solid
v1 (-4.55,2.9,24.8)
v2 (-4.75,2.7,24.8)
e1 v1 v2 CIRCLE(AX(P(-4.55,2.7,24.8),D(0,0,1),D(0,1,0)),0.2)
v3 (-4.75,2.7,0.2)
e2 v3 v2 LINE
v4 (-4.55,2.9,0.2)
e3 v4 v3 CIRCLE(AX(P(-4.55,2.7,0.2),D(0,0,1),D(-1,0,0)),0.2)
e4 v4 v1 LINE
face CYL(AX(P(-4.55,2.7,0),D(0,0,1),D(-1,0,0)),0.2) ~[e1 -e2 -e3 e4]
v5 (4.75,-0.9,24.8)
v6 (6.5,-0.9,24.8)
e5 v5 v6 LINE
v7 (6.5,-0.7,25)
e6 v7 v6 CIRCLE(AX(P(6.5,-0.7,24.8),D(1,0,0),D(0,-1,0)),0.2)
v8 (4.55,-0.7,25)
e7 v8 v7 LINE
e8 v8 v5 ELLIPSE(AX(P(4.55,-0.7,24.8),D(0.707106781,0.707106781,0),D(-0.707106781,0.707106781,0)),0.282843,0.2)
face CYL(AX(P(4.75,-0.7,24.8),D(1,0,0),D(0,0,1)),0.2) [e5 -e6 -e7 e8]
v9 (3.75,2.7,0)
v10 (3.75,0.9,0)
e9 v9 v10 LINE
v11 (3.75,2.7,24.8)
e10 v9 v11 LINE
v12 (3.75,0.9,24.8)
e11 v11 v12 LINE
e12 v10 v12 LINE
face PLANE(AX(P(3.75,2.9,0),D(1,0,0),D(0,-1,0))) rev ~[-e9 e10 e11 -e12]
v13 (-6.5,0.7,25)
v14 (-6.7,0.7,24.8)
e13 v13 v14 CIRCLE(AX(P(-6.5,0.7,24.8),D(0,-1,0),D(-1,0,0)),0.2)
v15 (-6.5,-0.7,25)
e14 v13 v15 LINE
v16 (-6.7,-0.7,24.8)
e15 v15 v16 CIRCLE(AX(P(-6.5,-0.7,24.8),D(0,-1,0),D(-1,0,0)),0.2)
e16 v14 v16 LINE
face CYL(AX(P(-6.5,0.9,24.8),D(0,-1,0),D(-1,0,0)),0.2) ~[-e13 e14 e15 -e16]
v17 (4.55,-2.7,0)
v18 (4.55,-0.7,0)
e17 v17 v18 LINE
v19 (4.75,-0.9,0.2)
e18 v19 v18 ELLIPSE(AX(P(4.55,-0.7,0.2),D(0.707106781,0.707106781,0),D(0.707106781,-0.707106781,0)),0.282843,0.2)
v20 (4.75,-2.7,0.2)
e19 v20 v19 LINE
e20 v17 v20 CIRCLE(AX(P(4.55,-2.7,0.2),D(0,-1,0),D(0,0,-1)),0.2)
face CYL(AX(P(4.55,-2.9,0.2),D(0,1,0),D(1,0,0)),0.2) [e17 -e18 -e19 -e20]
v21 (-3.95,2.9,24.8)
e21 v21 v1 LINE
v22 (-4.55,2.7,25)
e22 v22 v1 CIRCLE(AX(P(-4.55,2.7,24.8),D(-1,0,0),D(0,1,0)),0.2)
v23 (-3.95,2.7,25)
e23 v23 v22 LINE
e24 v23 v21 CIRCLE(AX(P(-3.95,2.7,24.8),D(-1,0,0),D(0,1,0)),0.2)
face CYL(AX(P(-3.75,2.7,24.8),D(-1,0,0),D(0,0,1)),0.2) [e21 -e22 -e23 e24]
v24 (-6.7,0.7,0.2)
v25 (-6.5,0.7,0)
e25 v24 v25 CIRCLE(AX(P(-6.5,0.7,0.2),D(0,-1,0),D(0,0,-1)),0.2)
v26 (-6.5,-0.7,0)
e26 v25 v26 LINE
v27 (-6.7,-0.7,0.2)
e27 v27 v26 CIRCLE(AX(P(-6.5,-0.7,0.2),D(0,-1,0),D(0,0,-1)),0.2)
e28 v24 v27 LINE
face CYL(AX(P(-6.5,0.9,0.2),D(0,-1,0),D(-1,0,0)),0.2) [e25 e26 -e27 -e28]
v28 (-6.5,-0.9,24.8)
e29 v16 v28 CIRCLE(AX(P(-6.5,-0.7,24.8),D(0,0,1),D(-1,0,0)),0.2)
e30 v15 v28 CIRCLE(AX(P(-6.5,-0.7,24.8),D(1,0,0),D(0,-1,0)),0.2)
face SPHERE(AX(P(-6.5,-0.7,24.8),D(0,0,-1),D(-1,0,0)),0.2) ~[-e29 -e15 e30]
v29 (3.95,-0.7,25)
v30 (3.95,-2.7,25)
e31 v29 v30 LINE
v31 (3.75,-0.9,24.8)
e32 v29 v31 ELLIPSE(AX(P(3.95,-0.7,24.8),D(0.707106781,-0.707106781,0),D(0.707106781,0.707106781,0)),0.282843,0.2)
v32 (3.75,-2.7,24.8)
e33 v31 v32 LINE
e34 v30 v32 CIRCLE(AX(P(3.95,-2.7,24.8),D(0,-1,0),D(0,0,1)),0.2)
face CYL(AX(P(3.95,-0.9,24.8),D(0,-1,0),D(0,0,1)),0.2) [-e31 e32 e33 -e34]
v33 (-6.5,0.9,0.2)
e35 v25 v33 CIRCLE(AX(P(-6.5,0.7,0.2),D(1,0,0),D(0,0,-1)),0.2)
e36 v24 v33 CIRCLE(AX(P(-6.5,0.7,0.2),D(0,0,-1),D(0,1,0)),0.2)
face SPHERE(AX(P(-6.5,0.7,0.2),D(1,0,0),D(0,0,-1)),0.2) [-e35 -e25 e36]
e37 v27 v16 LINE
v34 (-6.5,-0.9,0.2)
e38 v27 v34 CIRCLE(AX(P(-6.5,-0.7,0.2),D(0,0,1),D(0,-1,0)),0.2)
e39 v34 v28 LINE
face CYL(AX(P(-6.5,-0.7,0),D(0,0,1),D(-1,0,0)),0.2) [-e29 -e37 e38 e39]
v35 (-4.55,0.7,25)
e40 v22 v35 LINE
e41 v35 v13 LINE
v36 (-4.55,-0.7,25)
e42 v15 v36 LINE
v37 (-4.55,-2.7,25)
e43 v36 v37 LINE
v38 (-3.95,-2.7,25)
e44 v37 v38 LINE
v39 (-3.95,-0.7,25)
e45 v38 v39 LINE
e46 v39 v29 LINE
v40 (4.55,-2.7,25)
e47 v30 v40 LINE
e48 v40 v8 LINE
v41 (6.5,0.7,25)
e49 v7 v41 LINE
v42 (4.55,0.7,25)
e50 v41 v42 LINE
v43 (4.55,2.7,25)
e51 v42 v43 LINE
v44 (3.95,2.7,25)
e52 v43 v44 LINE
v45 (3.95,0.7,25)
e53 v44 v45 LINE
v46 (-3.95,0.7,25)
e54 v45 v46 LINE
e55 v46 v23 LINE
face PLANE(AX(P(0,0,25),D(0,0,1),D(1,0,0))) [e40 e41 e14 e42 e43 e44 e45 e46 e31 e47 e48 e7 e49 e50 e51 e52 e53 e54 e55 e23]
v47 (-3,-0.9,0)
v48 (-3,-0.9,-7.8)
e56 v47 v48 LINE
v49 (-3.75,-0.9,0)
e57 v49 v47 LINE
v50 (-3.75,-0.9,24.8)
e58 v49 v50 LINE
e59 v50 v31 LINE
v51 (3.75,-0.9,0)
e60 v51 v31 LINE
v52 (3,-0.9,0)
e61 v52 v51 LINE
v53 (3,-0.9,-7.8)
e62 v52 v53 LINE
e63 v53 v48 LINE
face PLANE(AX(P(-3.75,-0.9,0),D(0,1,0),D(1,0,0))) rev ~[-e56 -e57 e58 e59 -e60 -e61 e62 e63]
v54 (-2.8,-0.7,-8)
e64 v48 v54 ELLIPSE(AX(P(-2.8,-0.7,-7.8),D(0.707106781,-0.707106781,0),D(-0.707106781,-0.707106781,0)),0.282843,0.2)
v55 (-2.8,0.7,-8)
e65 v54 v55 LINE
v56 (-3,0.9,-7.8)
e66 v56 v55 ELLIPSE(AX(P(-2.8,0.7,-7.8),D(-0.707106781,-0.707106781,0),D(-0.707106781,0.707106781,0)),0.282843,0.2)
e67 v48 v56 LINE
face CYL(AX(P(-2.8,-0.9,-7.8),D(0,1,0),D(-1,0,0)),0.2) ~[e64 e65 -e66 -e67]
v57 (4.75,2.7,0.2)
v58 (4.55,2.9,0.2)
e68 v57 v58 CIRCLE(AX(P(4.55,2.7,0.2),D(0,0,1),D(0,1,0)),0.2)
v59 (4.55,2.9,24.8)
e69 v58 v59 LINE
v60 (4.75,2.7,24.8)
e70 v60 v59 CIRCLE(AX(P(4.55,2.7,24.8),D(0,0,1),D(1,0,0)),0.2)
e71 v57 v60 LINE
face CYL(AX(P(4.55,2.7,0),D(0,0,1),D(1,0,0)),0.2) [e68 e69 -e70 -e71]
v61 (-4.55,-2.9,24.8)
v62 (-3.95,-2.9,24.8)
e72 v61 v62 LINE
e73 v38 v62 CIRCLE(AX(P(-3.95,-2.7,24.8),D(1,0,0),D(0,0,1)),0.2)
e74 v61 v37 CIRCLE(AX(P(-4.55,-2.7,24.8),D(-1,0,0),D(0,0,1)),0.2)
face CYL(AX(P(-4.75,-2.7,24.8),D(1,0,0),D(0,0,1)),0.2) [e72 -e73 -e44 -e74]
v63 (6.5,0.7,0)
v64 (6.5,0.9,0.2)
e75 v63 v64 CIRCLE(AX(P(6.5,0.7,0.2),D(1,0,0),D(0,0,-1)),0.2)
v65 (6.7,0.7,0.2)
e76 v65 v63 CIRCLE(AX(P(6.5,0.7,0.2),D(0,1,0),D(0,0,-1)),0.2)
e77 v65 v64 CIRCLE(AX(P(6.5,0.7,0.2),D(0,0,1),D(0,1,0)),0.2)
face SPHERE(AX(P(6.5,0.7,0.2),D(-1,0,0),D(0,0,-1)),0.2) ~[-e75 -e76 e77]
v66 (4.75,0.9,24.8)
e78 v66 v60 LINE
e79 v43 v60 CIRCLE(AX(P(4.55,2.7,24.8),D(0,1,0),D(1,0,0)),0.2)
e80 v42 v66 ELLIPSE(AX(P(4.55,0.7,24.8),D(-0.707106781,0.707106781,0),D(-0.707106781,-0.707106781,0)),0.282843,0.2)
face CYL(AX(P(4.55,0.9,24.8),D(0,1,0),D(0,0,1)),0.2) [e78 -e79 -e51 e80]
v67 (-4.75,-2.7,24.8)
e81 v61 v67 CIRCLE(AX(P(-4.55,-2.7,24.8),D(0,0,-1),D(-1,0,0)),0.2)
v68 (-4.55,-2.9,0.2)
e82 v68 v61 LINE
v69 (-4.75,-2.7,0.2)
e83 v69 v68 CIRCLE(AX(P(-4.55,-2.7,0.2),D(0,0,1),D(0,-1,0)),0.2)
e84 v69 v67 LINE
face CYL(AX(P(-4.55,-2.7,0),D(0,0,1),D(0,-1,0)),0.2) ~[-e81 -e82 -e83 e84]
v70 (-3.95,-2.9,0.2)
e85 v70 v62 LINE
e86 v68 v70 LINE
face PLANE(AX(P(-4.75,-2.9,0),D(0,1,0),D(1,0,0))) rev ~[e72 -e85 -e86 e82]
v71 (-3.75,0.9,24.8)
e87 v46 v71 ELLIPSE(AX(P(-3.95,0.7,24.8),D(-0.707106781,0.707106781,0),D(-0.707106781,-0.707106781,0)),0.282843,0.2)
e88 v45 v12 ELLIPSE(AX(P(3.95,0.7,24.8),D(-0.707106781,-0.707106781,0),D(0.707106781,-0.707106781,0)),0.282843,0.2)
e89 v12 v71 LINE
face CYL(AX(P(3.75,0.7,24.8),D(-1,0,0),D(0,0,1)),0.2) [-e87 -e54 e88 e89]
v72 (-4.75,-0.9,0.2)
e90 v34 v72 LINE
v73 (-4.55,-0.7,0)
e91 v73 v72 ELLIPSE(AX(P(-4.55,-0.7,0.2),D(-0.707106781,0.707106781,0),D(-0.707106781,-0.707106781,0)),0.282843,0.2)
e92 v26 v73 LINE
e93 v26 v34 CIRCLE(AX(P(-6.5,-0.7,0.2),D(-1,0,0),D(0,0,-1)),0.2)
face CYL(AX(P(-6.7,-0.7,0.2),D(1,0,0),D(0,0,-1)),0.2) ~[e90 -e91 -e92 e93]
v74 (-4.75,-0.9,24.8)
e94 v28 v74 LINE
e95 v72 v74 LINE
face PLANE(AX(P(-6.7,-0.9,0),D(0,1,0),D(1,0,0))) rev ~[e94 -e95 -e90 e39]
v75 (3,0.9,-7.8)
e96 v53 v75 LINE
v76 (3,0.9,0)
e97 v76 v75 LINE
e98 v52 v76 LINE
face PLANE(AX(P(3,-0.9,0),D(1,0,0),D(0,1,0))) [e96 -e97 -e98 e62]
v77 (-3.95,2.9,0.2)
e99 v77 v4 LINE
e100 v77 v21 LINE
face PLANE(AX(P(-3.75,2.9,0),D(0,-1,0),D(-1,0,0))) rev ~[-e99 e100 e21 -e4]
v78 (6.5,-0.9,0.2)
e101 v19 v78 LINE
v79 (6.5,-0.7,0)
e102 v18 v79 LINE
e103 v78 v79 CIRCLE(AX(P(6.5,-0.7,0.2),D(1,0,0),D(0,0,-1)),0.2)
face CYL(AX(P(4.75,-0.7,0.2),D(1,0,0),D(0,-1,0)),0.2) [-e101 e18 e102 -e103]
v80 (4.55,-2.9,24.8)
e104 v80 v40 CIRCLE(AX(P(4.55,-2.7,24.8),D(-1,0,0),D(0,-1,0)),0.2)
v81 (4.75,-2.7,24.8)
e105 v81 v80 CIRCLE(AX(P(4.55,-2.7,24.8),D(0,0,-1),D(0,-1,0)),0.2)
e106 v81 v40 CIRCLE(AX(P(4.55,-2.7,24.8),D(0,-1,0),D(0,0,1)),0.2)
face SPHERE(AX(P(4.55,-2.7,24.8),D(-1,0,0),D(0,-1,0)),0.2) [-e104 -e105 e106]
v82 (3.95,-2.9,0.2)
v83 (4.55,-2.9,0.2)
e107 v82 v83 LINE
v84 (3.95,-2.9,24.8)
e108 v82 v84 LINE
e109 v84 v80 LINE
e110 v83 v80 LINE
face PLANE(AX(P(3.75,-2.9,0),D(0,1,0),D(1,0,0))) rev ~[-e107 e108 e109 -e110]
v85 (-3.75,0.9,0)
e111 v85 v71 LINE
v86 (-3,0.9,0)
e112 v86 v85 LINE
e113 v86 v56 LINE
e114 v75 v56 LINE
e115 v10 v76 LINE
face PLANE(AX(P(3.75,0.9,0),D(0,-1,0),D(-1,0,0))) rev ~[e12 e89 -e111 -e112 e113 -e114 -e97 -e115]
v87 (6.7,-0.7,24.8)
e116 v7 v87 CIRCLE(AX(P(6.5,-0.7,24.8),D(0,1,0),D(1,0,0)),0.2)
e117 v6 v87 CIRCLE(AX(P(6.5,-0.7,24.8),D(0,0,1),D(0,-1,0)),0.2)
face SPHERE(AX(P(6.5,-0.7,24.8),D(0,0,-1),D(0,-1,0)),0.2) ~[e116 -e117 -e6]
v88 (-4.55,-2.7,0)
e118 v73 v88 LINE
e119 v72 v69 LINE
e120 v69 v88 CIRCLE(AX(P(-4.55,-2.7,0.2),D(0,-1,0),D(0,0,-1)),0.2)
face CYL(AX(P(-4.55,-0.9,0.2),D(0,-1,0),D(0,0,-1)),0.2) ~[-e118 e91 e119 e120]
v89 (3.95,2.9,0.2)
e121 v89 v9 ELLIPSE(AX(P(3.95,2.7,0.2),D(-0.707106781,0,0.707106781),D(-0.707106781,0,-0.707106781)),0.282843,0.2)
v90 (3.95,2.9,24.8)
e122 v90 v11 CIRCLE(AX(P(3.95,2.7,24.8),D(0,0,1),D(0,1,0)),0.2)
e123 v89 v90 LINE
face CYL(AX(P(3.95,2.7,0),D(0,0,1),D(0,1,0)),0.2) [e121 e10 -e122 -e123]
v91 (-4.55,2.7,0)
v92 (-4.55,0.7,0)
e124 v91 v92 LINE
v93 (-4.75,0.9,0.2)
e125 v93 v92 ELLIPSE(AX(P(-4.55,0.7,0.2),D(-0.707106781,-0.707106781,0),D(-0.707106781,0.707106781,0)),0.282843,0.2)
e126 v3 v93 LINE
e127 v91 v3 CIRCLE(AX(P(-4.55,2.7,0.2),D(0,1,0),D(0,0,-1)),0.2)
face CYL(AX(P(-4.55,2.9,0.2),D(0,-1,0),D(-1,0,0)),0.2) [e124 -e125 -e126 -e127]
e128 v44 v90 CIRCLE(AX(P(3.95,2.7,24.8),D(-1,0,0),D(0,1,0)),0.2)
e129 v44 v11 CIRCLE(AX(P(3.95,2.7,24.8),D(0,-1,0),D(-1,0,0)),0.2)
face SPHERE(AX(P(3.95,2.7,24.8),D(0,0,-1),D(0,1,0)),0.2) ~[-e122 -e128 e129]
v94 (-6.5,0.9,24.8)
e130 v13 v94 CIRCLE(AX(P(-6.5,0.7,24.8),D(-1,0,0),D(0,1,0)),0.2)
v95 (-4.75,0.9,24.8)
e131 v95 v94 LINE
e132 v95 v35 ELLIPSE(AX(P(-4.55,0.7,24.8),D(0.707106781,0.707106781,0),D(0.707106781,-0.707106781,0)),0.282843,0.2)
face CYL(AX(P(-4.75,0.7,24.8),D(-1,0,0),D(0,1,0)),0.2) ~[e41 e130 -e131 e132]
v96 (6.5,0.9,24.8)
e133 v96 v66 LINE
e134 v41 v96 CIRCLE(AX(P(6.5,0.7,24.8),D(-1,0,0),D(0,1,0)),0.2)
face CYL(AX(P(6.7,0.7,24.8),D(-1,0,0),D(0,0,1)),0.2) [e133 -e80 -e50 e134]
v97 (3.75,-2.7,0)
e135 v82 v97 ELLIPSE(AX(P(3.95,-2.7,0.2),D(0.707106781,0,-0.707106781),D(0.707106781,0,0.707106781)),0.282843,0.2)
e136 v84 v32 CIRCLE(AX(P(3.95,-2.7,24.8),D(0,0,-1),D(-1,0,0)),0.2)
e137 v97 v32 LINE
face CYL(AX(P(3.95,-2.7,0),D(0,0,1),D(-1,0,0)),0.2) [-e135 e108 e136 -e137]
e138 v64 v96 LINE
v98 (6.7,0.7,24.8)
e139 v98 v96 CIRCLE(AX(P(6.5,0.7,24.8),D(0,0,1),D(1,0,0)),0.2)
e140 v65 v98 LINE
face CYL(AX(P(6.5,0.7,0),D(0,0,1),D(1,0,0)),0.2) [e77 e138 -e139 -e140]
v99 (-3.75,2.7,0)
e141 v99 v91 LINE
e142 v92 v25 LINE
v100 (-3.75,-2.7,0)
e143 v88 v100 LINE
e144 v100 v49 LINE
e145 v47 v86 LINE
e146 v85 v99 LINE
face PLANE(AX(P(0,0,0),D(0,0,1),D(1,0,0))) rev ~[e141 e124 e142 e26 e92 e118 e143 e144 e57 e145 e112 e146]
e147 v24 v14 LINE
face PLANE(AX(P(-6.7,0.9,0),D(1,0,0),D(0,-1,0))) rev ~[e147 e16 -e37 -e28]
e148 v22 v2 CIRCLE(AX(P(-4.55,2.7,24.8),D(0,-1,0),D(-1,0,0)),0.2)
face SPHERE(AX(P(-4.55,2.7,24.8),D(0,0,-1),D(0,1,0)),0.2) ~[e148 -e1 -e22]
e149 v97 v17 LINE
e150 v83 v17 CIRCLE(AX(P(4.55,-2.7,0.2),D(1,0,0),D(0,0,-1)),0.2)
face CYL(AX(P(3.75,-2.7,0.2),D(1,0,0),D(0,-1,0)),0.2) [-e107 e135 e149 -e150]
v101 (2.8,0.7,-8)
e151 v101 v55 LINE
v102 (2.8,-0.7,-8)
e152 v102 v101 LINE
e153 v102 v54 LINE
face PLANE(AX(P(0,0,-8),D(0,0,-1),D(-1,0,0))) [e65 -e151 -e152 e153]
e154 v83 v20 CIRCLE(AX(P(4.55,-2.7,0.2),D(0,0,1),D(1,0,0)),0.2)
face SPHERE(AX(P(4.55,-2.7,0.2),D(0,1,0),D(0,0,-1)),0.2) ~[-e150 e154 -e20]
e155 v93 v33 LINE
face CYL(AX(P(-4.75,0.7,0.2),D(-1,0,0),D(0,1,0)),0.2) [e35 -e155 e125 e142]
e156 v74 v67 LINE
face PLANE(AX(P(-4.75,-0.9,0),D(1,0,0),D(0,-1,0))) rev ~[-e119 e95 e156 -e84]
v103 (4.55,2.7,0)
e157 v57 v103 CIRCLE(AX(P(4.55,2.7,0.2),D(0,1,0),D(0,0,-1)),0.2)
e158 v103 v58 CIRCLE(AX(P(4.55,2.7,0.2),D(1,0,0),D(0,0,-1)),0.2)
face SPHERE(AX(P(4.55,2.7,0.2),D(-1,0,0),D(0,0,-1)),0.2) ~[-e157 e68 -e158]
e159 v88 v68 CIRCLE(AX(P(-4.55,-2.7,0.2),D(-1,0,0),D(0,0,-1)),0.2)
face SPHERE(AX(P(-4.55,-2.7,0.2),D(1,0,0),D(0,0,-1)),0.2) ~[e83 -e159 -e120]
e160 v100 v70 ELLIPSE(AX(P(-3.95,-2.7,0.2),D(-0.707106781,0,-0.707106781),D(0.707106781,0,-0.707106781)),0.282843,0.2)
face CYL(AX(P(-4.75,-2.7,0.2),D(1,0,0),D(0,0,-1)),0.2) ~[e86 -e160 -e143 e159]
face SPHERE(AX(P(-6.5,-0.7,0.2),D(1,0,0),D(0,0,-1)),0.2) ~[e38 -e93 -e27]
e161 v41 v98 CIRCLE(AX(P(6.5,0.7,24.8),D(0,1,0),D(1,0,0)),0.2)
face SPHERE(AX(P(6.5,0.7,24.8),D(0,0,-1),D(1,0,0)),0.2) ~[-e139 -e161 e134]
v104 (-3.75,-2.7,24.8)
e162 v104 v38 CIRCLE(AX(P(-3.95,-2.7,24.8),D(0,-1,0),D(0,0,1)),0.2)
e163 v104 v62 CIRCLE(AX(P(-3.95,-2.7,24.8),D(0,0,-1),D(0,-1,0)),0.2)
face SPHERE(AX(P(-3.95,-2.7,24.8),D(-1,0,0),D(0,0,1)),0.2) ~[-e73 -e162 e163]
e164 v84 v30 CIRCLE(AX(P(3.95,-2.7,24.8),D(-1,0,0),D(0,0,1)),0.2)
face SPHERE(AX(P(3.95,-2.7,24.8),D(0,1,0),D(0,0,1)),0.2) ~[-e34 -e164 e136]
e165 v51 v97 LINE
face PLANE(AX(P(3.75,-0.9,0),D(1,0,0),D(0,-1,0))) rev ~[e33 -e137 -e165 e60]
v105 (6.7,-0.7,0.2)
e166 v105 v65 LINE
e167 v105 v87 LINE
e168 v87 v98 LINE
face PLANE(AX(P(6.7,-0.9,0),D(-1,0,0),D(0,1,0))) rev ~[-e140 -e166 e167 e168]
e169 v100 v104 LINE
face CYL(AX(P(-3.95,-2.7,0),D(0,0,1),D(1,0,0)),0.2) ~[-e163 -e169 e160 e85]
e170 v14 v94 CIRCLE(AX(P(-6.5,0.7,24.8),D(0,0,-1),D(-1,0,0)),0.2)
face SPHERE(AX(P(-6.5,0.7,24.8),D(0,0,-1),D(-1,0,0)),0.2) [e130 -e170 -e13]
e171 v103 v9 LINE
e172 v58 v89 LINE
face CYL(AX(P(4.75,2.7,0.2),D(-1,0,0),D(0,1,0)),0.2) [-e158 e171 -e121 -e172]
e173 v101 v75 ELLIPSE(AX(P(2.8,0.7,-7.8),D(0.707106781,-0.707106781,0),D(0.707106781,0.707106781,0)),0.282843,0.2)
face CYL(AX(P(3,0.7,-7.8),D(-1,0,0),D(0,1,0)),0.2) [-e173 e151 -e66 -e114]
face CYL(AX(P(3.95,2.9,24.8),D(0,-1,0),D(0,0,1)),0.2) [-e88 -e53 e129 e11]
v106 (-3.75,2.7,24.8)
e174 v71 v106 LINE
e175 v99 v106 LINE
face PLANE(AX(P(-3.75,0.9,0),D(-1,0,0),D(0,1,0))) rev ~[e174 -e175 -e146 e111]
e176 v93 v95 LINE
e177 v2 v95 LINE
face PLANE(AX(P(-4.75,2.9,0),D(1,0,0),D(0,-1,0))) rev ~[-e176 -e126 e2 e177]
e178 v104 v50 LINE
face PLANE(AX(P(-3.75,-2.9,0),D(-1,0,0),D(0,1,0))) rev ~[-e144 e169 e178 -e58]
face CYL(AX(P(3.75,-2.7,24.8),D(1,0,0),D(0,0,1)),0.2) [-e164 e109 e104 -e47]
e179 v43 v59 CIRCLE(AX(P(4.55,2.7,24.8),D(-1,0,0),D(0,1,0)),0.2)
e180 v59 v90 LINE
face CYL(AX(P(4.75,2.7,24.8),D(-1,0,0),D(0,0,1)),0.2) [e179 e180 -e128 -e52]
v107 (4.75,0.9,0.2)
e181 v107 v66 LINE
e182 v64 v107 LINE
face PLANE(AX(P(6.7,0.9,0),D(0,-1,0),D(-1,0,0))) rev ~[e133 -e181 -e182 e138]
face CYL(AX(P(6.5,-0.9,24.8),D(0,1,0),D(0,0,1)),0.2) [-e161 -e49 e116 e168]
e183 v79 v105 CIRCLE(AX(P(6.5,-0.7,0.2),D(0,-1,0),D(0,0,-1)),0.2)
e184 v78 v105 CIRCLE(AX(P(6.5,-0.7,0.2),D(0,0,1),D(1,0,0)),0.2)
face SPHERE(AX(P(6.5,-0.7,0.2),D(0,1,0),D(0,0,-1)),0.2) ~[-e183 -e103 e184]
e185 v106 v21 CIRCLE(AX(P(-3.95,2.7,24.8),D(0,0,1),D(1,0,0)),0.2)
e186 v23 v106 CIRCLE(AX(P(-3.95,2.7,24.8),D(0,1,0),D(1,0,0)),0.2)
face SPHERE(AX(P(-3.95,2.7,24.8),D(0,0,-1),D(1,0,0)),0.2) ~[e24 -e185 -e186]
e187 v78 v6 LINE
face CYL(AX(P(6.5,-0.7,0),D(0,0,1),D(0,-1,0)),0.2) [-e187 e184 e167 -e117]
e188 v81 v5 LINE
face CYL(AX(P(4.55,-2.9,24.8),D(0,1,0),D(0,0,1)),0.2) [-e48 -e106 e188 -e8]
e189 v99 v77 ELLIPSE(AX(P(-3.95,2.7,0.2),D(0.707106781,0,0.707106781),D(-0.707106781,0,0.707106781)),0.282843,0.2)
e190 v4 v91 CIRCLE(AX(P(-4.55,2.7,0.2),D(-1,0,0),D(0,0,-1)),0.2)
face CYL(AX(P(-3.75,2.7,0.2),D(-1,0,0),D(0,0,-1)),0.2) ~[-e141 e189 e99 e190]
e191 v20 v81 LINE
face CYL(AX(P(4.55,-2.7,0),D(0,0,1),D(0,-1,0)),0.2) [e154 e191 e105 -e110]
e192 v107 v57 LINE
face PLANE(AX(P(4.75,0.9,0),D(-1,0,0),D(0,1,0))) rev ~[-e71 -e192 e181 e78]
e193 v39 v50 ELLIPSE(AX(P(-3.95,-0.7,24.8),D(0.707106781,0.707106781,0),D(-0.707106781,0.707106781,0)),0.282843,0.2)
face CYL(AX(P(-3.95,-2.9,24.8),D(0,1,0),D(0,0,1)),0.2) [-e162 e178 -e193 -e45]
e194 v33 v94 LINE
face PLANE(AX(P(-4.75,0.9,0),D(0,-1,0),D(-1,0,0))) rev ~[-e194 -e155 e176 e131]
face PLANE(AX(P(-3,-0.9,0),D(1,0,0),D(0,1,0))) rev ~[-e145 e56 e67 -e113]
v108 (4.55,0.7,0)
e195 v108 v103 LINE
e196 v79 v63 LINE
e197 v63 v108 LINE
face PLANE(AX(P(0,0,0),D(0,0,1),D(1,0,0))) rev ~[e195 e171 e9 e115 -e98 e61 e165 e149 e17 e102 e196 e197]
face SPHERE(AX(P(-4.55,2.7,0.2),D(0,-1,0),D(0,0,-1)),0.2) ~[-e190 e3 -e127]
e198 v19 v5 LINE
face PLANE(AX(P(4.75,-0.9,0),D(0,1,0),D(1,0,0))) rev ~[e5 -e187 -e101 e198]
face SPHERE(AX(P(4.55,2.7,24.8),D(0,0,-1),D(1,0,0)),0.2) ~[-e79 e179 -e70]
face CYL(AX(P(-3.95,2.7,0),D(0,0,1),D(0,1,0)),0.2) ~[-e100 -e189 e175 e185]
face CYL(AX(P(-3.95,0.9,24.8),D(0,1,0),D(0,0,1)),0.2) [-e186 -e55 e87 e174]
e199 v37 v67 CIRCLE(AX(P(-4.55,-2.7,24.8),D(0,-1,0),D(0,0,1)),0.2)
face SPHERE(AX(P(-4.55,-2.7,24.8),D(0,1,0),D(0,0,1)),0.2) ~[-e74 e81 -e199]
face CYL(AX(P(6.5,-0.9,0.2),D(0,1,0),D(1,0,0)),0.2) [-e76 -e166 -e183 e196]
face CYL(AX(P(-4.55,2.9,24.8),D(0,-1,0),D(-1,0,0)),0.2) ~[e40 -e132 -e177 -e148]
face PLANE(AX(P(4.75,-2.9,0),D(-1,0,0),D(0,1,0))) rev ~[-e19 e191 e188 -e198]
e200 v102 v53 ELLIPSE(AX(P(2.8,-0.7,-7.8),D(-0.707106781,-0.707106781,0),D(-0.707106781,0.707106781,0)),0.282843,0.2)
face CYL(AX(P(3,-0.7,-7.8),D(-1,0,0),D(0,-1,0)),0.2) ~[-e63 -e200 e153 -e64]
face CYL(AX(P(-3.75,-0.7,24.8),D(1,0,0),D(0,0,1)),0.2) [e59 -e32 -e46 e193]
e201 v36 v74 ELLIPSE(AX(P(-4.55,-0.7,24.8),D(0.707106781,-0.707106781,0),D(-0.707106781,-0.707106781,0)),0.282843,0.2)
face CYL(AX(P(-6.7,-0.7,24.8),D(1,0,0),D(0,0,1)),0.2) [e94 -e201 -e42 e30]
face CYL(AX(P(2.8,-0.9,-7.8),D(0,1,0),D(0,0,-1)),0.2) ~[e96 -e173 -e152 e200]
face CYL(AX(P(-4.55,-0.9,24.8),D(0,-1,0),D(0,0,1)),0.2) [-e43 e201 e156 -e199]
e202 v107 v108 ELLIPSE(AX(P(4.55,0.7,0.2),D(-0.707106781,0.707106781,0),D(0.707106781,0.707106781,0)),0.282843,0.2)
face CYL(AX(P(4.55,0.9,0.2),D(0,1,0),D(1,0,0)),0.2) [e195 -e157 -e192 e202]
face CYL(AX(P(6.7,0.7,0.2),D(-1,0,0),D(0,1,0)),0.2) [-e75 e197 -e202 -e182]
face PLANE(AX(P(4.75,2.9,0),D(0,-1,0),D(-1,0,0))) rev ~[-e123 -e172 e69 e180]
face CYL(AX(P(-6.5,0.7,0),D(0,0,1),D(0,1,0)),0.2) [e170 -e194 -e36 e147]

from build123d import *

# Parameters (mm, degrees)
AUFSATZ_LINEAR_AUSTRAGEN1_DEPTH = 25
SKIZZE2_W                       = 6
SKIZZE2_H                       = 1.8
AUFSATZ_LINEAR_AUSTRAGEN2_DEPTH = 8
VERRUNDUNG1_R                   = 0.2


with BuildPart() as part:
    # Skizze1 → Aufsatz-Linear austragen1 (new body)
    with BuildSketch(Plane.XY):
        Polygon((-4.75, 0.9), (-6.7, 0.9), (-6.7, -0.9), (-4.75, -0.9), (-4.75, -2.9), (-3.75, -2.9), (-3.75, -0.9), (3.75, -0.9), (3.75, -2.9), (4.75, -2.9), (4.75, -0.9), (6.7, -0.9), (6.7, 0.9), (4.75, 0.9), (4.75, 2.9), (3.75, 2.9), (3.75, 0.9), (-3.75, 0.9), (-3.75, 2.9), (-4.75, 2.9), align=None)
    extrude(amount=AUFSATZ_LINEAR_AUSTRAGEN1_DEPTH)

    # Skizze2 → Aufsatz-Linear austragen2 (add)
    with BuildSketch(Plane(origin=(0, 0, 0), x_dir=(-1, 0, 0), z_dir=(0, 0, -1))):
        Rectangle(SKIZZE2_W, SKIZZE2_H)
    extrude(amount=AUFSATZ_LINEAR_AUSTRAGEN2_DEPTH)

    # Verrundung1
    verrundung1_edges = [part.edges().sort_by_distance(p)[0] for p in [
        (-4.75, -1.9, 25),
        (-4.25, -2.9, 25),
        (-5.725, 0.9, 0),
        (-4.75, 1.9, 0),
        (-4.25, 2.9, 0),
        (-3.75, -1.9, 25),
        (4.25, 2.9, 0),
        (4.75, 1.9, 0),
        (5.725, 0.9, 0),
        (6.7, 0, 0),
        (5.725, -0.9, 0),
        (4.75, -1.9, 0),
        (4.25, -2.9, 0),
        (0, -0.9, 25),
        (-4.25, -2.9, 0),
        (-4.75, -1.9, 0),
        (-5.725, -0.9, 0),
        (-6.7, 0, 0),
        (3.75, -1.9, 25),
        (4.25, -2.9, 25),
        (-6.7, 0.9, 12.5),
        (-4.75, 2.9, 12.5),
        (-3.75, 2.9, 12.5),
        (3.75, 2.9, 12.5),
        (4.75, 2.9, 12.5),
        (6.7, 0.9, 12.5),
        (6.7, -0.9, 12.5),
        (4.75, -2.9, 12.5),
        (3.75, -2.9, 12.5),
        (-3.75, -2.9, 12.5),
        (-4.75, -2.9, 12.5),
        (-6.7, -0.9, 12.5),
        (4.75, -1.9, 25),
        (5.725, -0.9, 25),
        (6.7, 0, 25),
        (5.725, 0.9, 25),
        (-6.7, 0, 25),
        (4.75, 1.9, 25),
        (4.25, 2.9, 25),
        (3, 0, -8),
        (0, -0.9, -8),
        (-3, 0, -8),
        (0, 0.9, -8),
        (3.75, 1.9, 25),
        (0, 0.9, 25),
        (-3.75, 1.9, 25),
        (-4.25, 2.9, 25),
        (-4.75, 1.9, 25),
        (-5.725, 0.9, 25),
        (-5.725, -0.9, 25),
    ]]
    fillet(verrundung1_edges, radius=VERRUNDUNG1_R)


solid = part.part
